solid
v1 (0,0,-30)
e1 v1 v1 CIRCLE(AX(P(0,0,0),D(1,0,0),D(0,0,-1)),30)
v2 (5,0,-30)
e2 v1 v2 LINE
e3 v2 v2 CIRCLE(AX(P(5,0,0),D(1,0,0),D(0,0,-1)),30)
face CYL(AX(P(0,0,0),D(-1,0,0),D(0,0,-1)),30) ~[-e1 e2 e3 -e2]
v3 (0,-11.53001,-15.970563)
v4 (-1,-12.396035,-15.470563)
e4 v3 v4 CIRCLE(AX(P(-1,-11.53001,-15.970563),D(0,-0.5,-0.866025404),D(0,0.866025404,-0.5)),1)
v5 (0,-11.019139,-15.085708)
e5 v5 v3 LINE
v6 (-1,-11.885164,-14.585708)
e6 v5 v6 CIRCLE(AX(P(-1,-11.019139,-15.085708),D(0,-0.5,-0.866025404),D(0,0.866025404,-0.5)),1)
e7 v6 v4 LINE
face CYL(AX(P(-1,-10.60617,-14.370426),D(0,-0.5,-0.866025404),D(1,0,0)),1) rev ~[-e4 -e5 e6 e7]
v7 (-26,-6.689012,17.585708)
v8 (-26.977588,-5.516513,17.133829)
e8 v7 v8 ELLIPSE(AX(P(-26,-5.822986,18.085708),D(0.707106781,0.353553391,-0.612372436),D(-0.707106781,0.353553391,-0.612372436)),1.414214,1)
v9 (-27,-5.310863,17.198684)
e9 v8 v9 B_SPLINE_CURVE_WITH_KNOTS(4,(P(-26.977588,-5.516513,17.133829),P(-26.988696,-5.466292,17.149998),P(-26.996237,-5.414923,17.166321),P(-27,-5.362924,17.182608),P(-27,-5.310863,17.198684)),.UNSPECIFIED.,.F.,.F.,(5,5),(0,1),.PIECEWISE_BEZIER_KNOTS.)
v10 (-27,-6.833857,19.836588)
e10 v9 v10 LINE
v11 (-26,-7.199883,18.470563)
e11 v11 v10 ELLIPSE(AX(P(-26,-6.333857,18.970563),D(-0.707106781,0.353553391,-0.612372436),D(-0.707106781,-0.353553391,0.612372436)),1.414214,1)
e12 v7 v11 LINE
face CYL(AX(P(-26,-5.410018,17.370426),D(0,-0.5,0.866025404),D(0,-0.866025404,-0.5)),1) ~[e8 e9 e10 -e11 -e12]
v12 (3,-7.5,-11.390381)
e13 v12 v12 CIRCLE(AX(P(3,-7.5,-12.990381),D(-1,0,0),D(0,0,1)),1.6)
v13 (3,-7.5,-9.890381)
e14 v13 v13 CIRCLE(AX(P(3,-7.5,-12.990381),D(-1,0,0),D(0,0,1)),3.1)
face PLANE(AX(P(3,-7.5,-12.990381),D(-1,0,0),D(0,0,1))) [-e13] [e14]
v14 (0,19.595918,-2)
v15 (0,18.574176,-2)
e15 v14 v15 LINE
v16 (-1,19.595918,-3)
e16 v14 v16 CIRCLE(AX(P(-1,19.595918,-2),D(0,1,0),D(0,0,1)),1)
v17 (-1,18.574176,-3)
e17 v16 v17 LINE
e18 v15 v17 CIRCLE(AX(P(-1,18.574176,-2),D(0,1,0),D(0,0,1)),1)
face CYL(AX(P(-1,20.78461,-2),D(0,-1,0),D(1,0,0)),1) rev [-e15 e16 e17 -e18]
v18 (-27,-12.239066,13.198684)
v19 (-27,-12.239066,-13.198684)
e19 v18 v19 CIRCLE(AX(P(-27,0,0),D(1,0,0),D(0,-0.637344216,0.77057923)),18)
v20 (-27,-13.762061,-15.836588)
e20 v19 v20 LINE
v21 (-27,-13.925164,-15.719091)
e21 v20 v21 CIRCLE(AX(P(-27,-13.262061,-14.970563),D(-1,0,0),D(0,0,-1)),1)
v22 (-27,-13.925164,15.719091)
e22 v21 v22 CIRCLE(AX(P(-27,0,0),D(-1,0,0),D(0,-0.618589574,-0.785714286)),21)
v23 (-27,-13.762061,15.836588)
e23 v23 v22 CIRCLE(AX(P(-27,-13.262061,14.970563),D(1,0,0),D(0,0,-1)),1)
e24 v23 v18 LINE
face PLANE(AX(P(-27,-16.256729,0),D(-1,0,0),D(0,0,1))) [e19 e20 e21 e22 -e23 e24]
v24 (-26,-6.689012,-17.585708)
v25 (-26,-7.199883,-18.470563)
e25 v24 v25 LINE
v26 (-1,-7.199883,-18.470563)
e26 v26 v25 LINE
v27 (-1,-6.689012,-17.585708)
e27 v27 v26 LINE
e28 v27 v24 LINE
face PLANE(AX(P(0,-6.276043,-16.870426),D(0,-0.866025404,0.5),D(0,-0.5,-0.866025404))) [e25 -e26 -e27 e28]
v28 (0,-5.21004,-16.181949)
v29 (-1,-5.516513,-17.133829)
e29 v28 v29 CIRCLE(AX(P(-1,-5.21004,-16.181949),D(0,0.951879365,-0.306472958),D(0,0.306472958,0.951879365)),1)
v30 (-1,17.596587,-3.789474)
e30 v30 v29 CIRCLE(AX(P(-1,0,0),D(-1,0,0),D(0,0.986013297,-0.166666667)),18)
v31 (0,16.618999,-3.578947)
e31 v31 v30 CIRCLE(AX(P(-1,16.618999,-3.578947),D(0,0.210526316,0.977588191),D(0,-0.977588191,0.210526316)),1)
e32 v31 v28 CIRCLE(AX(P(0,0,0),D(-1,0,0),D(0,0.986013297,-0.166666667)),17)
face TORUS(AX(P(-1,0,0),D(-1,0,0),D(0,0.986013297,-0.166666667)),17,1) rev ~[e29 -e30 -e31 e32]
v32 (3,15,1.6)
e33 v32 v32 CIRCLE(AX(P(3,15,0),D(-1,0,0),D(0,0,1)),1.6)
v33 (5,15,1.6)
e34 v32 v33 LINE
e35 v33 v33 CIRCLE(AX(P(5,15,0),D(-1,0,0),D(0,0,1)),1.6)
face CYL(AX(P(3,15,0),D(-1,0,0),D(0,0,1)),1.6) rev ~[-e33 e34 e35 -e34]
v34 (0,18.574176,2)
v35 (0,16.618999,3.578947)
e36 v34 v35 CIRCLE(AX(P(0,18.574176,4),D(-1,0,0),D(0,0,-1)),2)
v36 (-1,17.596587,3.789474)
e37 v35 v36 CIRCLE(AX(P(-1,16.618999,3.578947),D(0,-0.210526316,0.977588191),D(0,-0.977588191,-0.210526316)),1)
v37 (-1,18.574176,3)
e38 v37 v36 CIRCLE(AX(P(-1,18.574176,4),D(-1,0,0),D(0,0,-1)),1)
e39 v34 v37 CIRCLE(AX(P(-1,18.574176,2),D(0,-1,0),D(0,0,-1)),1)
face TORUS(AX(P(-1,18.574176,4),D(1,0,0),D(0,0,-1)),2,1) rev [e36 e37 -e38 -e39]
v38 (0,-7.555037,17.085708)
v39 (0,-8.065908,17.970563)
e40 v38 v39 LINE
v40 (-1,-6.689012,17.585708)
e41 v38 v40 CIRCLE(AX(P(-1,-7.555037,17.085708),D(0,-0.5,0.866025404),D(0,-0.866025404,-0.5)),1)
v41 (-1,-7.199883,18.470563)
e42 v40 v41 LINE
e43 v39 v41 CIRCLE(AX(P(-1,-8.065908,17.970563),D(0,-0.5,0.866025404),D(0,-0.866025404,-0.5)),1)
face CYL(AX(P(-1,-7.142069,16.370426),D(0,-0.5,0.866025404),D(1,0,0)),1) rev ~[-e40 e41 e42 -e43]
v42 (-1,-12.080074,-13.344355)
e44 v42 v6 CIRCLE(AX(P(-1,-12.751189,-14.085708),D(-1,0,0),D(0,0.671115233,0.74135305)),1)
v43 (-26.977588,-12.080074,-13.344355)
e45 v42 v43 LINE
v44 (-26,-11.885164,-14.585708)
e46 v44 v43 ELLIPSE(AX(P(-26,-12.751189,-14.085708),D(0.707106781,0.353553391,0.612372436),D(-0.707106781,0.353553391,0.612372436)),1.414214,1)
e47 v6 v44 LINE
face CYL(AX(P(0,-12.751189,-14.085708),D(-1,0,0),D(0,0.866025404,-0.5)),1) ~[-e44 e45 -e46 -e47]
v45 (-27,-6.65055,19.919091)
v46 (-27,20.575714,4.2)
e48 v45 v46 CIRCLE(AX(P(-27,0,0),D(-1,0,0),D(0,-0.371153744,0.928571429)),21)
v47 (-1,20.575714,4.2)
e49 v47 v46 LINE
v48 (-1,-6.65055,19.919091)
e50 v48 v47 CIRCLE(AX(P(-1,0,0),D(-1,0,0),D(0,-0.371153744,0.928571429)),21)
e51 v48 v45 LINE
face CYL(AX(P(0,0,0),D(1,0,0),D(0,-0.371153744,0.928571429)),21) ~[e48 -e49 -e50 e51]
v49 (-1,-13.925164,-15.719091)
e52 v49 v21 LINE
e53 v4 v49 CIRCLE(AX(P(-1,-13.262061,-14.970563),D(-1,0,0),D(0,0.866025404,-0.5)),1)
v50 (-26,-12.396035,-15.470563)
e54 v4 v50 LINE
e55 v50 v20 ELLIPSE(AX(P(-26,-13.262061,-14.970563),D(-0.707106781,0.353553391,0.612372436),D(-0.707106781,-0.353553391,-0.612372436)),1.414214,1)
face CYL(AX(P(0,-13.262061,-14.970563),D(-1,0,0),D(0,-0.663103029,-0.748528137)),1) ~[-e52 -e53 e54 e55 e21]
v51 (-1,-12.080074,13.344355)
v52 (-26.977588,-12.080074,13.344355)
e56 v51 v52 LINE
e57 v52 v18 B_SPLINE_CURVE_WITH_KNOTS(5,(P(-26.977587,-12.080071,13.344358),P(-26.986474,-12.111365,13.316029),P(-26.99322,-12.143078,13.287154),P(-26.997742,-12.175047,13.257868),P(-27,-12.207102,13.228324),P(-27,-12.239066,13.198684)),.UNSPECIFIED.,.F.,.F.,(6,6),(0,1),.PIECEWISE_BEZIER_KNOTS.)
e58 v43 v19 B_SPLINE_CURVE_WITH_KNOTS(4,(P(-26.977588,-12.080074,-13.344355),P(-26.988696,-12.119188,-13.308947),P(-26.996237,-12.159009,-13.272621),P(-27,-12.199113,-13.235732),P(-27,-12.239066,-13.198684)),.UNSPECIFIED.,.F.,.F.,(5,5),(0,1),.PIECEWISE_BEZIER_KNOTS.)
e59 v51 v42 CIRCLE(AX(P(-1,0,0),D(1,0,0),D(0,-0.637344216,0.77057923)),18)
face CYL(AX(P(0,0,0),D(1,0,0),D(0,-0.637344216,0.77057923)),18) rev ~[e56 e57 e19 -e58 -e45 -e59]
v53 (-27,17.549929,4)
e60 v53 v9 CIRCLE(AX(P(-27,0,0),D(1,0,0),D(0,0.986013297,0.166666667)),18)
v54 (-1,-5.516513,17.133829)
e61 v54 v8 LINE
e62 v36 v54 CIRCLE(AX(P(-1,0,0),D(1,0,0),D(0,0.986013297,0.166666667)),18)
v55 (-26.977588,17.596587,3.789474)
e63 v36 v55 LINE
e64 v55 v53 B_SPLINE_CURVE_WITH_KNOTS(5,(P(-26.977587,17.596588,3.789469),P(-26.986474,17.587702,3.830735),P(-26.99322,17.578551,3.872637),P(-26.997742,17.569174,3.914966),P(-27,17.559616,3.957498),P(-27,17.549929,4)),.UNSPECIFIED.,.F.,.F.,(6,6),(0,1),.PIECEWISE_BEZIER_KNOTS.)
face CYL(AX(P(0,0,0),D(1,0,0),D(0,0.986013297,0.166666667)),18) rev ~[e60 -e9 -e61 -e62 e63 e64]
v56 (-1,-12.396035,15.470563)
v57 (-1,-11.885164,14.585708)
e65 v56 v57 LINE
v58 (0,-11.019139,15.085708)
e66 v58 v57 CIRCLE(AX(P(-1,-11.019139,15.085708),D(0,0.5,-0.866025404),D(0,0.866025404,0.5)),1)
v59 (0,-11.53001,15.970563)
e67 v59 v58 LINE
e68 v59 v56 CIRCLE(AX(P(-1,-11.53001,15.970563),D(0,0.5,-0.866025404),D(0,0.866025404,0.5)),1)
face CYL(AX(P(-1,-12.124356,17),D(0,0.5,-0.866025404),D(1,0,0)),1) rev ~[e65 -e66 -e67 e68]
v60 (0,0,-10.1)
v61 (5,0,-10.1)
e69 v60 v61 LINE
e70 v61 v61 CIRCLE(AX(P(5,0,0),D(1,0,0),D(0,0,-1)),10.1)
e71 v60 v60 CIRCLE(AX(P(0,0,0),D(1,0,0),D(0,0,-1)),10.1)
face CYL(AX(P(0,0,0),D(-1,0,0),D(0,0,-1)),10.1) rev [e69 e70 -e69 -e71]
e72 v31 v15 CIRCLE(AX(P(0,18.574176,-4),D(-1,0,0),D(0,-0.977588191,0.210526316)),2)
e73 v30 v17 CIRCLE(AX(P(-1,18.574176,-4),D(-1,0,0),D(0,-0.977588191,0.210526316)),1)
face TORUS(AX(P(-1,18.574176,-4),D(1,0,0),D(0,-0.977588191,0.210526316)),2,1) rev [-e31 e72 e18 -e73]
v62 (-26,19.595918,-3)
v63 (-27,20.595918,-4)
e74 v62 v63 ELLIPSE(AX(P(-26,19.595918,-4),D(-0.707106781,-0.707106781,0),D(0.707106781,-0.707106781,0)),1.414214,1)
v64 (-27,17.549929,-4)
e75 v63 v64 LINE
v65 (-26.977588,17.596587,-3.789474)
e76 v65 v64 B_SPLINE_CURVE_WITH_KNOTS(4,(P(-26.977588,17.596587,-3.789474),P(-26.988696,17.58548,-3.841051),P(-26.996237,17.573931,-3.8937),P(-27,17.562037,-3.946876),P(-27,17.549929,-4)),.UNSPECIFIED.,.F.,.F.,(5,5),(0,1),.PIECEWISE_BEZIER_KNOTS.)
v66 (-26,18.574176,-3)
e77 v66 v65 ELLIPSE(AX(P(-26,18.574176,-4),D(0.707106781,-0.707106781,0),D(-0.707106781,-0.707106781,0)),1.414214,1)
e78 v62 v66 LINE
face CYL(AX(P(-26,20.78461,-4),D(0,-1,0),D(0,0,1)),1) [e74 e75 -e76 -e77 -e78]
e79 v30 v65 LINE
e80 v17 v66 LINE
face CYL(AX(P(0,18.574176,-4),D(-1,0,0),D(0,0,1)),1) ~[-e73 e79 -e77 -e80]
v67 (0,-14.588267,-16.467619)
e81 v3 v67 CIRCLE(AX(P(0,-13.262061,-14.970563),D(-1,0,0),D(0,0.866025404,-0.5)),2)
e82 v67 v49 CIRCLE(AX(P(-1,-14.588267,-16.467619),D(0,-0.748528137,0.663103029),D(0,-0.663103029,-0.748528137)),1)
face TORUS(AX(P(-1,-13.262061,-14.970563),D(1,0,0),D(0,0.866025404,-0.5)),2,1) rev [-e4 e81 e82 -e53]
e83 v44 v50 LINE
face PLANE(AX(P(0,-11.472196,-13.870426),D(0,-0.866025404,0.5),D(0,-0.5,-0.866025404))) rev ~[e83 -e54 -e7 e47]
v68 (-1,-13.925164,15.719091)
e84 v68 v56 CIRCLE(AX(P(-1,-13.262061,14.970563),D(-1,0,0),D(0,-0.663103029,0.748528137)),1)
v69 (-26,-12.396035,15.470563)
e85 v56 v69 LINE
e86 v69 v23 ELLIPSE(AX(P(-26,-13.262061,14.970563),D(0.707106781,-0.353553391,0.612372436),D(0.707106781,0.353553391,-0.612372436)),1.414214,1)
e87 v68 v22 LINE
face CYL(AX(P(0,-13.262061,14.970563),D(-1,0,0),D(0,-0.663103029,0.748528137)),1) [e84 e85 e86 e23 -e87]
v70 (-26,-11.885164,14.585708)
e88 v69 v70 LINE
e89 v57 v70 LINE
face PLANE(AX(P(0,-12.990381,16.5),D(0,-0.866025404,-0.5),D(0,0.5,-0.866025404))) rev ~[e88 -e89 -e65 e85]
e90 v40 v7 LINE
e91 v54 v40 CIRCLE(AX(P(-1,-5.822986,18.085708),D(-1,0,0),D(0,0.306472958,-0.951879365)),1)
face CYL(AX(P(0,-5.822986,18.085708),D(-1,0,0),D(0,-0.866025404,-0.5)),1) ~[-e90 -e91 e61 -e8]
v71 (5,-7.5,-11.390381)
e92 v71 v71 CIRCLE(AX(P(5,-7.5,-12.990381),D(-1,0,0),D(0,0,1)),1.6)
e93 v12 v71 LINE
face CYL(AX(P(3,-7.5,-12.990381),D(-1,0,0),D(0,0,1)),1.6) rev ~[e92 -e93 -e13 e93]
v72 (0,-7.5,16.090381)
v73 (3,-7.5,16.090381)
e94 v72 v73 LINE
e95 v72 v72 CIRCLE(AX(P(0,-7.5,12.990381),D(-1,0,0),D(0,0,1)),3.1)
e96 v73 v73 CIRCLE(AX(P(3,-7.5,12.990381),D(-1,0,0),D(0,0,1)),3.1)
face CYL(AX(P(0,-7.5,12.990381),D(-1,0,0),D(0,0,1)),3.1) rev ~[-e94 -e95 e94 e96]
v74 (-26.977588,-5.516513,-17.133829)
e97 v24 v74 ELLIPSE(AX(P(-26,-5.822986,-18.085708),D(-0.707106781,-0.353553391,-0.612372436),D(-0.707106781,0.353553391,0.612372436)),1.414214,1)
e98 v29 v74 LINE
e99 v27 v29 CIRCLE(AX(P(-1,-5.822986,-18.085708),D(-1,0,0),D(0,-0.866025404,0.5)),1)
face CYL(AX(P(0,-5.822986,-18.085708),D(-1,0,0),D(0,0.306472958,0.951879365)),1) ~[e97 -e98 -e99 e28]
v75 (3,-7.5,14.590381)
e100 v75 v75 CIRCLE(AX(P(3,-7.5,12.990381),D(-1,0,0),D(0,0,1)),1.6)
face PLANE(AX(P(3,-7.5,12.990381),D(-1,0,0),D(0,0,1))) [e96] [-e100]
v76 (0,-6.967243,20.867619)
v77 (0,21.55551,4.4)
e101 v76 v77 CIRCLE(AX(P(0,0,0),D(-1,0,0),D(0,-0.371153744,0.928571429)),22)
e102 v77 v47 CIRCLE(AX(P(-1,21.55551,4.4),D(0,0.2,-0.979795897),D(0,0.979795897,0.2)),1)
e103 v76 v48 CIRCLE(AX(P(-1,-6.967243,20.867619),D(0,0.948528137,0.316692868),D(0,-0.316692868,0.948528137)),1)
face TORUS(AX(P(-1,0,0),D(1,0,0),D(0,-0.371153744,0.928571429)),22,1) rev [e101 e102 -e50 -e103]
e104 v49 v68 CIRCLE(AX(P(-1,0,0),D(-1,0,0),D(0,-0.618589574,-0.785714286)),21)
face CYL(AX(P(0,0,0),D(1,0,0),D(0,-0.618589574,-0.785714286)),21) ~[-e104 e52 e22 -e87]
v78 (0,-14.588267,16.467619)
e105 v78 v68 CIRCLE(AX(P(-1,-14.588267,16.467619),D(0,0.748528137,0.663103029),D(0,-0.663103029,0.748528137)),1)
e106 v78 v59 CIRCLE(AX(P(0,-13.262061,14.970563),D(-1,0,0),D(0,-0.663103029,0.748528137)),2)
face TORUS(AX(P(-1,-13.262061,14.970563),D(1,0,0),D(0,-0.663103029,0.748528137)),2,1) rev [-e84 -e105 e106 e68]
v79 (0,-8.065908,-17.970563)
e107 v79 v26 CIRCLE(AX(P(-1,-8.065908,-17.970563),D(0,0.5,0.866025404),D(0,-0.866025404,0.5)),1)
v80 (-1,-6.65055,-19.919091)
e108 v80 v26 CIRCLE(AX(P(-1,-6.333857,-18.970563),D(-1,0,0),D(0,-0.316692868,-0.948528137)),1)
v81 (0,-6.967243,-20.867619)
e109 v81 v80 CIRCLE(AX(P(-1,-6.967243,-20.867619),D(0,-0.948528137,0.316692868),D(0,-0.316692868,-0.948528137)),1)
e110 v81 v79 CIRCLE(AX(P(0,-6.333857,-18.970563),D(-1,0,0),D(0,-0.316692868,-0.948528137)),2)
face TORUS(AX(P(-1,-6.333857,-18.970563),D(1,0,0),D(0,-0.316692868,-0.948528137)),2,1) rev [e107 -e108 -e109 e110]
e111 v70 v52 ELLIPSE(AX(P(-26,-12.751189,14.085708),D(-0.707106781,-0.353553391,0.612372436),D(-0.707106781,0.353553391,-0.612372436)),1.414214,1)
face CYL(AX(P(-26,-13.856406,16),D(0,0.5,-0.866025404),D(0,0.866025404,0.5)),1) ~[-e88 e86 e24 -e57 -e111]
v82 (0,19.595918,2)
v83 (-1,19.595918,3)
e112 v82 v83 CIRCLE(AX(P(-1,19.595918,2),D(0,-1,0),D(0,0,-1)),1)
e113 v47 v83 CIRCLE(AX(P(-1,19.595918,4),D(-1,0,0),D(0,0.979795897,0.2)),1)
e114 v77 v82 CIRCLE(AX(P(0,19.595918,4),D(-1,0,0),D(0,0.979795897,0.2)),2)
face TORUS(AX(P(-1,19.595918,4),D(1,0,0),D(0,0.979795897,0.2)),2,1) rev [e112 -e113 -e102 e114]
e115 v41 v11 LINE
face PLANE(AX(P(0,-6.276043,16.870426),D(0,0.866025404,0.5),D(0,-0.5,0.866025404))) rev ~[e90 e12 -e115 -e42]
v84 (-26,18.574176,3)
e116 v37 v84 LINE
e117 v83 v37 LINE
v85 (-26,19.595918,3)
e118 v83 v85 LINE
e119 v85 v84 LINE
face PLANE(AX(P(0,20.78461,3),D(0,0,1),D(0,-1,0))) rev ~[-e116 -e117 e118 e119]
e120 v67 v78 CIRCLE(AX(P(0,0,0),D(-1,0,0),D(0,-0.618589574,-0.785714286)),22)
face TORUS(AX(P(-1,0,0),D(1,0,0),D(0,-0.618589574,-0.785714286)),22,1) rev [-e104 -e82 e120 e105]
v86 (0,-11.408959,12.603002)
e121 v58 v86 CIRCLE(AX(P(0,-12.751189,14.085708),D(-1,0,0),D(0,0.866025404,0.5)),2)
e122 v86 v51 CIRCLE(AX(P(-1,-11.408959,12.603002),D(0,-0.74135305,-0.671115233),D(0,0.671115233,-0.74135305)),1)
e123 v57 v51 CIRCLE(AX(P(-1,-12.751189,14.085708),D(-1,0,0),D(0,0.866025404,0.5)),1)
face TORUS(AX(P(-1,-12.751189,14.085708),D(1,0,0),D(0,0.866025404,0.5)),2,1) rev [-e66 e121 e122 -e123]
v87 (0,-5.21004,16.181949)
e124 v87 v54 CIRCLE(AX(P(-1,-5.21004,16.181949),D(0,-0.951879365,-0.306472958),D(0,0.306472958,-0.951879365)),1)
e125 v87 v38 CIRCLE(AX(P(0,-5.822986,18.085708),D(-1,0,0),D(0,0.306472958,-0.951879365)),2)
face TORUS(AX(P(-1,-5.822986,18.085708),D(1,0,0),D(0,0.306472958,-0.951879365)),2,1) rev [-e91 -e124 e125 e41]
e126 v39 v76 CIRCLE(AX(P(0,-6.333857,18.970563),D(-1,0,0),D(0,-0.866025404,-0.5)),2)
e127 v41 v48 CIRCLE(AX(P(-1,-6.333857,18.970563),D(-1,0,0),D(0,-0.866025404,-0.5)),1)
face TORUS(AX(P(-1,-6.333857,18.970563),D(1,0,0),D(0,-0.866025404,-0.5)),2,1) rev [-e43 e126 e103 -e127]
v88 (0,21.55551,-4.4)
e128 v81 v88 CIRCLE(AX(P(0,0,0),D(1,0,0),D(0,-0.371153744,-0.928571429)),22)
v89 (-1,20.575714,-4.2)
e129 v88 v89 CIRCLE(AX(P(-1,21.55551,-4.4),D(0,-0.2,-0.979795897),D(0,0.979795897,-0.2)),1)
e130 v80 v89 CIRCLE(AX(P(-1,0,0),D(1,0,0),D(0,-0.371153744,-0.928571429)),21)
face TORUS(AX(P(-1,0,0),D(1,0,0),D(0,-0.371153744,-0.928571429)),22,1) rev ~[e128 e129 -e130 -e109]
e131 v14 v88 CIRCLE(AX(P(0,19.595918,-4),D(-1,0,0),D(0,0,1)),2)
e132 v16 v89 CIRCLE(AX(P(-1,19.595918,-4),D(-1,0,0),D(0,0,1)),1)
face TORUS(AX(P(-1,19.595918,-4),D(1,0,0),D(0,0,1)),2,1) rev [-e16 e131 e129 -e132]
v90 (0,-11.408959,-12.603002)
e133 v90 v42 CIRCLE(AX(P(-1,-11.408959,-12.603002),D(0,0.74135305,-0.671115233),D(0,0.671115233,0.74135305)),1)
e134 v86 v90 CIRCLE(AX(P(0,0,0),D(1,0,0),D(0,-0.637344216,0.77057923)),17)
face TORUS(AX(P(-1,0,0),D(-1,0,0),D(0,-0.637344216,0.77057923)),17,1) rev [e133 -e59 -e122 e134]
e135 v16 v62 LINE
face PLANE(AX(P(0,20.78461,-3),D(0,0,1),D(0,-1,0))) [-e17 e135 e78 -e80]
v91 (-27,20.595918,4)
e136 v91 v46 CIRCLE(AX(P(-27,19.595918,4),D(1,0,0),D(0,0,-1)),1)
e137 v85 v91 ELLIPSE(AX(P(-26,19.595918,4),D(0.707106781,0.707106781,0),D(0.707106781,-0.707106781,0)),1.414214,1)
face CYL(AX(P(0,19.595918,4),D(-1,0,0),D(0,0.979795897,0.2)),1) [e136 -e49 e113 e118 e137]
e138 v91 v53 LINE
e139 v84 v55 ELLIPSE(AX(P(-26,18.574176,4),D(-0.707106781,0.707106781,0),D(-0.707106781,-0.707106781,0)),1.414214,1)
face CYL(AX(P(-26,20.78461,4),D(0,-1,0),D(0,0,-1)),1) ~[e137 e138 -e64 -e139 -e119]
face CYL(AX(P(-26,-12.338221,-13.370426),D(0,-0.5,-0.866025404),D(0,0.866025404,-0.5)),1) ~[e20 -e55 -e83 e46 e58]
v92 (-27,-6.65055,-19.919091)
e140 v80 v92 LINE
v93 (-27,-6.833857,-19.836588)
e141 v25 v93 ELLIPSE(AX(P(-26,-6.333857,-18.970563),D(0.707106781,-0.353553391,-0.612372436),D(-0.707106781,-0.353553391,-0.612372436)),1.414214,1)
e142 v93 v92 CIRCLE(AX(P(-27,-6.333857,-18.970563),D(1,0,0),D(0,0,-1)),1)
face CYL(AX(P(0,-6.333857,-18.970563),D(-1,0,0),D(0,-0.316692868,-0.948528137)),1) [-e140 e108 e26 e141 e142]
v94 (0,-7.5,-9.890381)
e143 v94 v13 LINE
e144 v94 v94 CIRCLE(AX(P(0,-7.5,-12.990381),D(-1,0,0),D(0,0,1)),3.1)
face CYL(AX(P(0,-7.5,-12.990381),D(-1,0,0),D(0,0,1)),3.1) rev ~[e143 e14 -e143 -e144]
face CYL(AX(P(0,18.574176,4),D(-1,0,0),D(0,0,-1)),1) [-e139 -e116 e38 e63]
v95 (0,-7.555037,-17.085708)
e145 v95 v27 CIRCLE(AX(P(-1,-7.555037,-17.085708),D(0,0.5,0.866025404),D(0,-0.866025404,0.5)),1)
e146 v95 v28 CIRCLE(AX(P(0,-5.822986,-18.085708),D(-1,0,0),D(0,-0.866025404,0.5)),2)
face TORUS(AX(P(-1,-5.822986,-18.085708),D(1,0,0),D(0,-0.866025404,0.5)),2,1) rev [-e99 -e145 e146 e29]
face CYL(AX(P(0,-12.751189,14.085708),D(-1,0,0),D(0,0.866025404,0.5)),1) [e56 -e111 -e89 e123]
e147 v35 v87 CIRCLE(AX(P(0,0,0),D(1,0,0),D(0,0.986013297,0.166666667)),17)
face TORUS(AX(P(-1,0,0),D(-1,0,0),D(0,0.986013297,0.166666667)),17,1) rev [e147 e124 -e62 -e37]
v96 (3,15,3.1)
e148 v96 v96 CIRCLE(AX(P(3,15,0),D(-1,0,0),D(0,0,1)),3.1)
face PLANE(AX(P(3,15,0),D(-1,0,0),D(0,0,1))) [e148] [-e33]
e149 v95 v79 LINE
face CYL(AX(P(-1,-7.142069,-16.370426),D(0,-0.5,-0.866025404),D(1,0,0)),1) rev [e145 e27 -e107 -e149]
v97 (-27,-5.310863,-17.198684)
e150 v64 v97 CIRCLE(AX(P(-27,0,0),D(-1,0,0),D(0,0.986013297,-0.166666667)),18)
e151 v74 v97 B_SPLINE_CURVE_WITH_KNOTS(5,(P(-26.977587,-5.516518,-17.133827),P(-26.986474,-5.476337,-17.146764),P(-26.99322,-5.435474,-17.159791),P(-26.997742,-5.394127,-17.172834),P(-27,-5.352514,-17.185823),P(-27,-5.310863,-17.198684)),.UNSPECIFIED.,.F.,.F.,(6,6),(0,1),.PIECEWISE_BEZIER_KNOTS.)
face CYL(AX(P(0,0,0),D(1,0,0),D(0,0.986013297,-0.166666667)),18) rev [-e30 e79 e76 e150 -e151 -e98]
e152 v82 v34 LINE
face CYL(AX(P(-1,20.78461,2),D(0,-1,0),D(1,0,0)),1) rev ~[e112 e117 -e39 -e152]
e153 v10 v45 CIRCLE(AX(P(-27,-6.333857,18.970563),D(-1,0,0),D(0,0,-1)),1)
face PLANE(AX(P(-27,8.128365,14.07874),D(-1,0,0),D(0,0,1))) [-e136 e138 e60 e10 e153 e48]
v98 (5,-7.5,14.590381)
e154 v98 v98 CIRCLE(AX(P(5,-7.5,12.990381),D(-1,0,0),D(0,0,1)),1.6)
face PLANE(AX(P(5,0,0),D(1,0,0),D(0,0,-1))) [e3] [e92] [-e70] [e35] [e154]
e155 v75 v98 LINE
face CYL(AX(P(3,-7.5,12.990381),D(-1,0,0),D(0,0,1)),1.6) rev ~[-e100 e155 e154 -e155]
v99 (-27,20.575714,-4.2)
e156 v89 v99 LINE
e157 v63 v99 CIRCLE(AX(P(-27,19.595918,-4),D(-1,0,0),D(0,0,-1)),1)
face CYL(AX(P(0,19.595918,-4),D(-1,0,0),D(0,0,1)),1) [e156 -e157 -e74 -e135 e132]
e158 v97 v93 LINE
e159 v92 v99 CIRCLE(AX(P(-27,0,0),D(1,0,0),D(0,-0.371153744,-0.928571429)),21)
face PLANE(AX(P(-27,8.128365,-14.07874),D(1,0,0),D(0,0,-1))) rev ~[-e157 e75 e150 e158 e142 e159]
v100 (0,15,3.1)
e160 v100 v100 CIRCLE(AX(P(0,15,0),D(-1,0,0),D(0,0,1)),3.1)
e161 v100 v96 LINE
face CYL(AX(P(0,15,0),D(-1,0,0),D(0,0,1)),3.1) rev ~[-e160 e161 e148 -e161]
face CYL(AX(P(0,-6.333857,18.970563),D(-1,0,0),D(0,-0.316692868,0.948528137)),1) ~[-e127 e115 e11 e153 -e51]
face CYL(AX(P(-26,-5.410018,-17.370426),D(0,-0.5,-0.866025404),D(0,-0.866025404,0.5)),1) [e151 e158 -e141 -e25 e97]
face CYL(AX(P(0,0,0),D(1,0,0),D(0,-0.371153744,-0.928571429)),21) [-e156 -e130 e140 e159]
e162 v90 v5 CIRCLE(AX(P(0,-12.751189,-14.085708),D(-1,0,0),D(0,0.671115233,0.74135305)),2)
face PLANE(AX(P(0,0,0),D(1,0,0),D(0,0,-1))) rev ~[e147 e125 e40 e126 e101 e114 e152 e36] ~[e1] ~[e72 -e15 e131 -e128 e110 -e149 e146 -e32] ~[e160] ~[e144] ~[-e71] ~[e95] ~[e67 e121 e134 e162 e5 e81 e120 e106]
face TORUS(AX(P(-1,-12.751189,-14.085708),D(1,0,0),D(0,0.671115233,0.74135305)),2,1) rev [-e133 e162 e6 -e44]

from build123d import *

# Parameters (mm, degrees)
SKETCH_1_R          = 30
SKETCH_1_R_2        = 10.1
EXTRUDE_1_DEPTH     = 5
EXTRUDE_2_DEPTH     = 27
SKETCH_3_R          = 3.1
CUT_EXTRUDE_1_DEPTH = 3
SKETCH_4_R          = 1.6
CUT_EXTRUDE_2_DEPTH = 52.961524227
FILLET_1_R          = 1


with BuildPart() as part:
    # 草图1 → 凸台-拉伸1 (new body)
    with BuildSketch(Plane(origin=(0, 0, 0), x_dir=(0, 0, -1), z_dir=(1, 0, 0))):
        Circle(SKETCH_1_R)
        Circle(SKETCH_1_R_2, mode=Mode.SUBTRACT)
    extrude(amount=EXTRUDE_1_DEPTH)

    # 草图2 → 凸台-拉伸2 (add)
    with BuildSketch(Plane.ZY):
        with BuildLine():
            Line((-3, 20.784609691), (-3, 17.748239349))
            ThreePointArc((-3, 17.748239349), (-15.588457268, 9), (-16.870426149, -6.276043463))
            Line((-16.870426149, -6.276043463), (-19.5, -7.794228634))
            ThreePointArc((-19.5, -7.794228634), (-18.186533479, 10.5), (-3, 20.784609691))
        make_face()
        with BuildLine():
            Line((3, 20.784609691), (3, 17.748239349))
            ThreePointArc((3, 17.748239349), (15.588457268, 9), (16.870426149, -6.276043463))
            Line((16.870426149, -6.276043463), (19.5, -7.794228634))
            ThreePointArc((19.5, -7.794228634), (18.186533479, 10.5), (3, 20.784609691))
        make_face()
        with BuildLine():
            Line((16.5, -12.990381057), (13.870426149, -11.472195886))
            ThreePointArc((13.870426149, -11.472195886), (0, -18), (-13.870426149, -11.472195886))
            Line((-13.870426149, -11.472195886), (-16.5, -12.990381057))
            ThreePointArc((-16.5, -12.990381057), (0, -21), (16.5, -12.990381057))
        make_face()
    extrude(amount=EXTRUDE_2_DEPTH)

    # 草图3 → 切除-拉伸1 (cut)
    with BuildSketch(Plane.ZY):
        with Locations((0, 15)):
            Circle(SKETCH_3_R)
        with Locations((12.990381057, -7.5)):
            Circle(SKETCH_3_R)
        with Locations((-12.990381057, -7.5)):
            Circle(SKETCH_3_R)
    extrude(amount=-CUT_EXTRUDE_1_DEPTH, mode=Mode.SUBTRACT)

    # 草图4 → 切除-拉伸2 (cut, through all)
    with BuildSketch(Plane.ZY.offset(-3)):
        with Locations((0, 15)):
            Circle(SKETCH_4_R)
        with Locations((12.990381057, -7.5)):
            Circle(SKETCH_4_R)
        with Locations((-12.990381057, -7.5)):
            Circle(SKETCH_4_R)
    extrude(amount=-CUT_EXTRUDE_2_DEPTH, mode=Mode.SUBTRACT)

    # 圆角1
    fillet_1_edges = [part.edges().sort_by_distance(p)[0] for p in [
        (0, 10.5, -18.186533479),
        (-13.5, 20.784609691, -3),
        (0, -7.035136049, -18.185213074),
        (-13.5, -7.794228634, -19.5),
        (0, 9, -15.588457268),
        (-13.5, -6.276043463, -16.870426149),
        (0, 19.26642452, -3),
        (-13.5, 17.748239349, -3),
        (-27, -7.035136049, -18.185213074),
        (-27, 19.26642452, -3),
        (0, -21, 0),
        (-13.5, -12.990381057, -16.5),
        (0, -12.231288471, 15.185213074),
        (-13.5, -12.990381057, 16.5),
        (0, -18, 0),
        (-13.5, -11.472195886, 13.870426149),
        (0, -12.231288471, -15.185213074),
        (-13.5, -11.472195886, -13.870426149),
        (-27, -12.231288471, 15.185213074),
        (-27, -12.231288471, -15.185213074),
        (0, 10.5, 18.186533479),
        (-13.5, -7.794228634, 19.5),
        (0, 19.26642452, 3),
        (-13.5, 20.784609691, 3),
        (0, 9, 15.588457268),
        (-13.5, 17.748239349, 3),
        (0, -7.035136049, 18.185213074),
        (-13.5, -6.276043463, 16.870426149),
        (-27, 19.26642452, 3),
        (-27, -7.035136049, 18.185213074),
    ]]
    fillet(fillet_1_edges, radius=FILLET_1_R)


solid = part.part
